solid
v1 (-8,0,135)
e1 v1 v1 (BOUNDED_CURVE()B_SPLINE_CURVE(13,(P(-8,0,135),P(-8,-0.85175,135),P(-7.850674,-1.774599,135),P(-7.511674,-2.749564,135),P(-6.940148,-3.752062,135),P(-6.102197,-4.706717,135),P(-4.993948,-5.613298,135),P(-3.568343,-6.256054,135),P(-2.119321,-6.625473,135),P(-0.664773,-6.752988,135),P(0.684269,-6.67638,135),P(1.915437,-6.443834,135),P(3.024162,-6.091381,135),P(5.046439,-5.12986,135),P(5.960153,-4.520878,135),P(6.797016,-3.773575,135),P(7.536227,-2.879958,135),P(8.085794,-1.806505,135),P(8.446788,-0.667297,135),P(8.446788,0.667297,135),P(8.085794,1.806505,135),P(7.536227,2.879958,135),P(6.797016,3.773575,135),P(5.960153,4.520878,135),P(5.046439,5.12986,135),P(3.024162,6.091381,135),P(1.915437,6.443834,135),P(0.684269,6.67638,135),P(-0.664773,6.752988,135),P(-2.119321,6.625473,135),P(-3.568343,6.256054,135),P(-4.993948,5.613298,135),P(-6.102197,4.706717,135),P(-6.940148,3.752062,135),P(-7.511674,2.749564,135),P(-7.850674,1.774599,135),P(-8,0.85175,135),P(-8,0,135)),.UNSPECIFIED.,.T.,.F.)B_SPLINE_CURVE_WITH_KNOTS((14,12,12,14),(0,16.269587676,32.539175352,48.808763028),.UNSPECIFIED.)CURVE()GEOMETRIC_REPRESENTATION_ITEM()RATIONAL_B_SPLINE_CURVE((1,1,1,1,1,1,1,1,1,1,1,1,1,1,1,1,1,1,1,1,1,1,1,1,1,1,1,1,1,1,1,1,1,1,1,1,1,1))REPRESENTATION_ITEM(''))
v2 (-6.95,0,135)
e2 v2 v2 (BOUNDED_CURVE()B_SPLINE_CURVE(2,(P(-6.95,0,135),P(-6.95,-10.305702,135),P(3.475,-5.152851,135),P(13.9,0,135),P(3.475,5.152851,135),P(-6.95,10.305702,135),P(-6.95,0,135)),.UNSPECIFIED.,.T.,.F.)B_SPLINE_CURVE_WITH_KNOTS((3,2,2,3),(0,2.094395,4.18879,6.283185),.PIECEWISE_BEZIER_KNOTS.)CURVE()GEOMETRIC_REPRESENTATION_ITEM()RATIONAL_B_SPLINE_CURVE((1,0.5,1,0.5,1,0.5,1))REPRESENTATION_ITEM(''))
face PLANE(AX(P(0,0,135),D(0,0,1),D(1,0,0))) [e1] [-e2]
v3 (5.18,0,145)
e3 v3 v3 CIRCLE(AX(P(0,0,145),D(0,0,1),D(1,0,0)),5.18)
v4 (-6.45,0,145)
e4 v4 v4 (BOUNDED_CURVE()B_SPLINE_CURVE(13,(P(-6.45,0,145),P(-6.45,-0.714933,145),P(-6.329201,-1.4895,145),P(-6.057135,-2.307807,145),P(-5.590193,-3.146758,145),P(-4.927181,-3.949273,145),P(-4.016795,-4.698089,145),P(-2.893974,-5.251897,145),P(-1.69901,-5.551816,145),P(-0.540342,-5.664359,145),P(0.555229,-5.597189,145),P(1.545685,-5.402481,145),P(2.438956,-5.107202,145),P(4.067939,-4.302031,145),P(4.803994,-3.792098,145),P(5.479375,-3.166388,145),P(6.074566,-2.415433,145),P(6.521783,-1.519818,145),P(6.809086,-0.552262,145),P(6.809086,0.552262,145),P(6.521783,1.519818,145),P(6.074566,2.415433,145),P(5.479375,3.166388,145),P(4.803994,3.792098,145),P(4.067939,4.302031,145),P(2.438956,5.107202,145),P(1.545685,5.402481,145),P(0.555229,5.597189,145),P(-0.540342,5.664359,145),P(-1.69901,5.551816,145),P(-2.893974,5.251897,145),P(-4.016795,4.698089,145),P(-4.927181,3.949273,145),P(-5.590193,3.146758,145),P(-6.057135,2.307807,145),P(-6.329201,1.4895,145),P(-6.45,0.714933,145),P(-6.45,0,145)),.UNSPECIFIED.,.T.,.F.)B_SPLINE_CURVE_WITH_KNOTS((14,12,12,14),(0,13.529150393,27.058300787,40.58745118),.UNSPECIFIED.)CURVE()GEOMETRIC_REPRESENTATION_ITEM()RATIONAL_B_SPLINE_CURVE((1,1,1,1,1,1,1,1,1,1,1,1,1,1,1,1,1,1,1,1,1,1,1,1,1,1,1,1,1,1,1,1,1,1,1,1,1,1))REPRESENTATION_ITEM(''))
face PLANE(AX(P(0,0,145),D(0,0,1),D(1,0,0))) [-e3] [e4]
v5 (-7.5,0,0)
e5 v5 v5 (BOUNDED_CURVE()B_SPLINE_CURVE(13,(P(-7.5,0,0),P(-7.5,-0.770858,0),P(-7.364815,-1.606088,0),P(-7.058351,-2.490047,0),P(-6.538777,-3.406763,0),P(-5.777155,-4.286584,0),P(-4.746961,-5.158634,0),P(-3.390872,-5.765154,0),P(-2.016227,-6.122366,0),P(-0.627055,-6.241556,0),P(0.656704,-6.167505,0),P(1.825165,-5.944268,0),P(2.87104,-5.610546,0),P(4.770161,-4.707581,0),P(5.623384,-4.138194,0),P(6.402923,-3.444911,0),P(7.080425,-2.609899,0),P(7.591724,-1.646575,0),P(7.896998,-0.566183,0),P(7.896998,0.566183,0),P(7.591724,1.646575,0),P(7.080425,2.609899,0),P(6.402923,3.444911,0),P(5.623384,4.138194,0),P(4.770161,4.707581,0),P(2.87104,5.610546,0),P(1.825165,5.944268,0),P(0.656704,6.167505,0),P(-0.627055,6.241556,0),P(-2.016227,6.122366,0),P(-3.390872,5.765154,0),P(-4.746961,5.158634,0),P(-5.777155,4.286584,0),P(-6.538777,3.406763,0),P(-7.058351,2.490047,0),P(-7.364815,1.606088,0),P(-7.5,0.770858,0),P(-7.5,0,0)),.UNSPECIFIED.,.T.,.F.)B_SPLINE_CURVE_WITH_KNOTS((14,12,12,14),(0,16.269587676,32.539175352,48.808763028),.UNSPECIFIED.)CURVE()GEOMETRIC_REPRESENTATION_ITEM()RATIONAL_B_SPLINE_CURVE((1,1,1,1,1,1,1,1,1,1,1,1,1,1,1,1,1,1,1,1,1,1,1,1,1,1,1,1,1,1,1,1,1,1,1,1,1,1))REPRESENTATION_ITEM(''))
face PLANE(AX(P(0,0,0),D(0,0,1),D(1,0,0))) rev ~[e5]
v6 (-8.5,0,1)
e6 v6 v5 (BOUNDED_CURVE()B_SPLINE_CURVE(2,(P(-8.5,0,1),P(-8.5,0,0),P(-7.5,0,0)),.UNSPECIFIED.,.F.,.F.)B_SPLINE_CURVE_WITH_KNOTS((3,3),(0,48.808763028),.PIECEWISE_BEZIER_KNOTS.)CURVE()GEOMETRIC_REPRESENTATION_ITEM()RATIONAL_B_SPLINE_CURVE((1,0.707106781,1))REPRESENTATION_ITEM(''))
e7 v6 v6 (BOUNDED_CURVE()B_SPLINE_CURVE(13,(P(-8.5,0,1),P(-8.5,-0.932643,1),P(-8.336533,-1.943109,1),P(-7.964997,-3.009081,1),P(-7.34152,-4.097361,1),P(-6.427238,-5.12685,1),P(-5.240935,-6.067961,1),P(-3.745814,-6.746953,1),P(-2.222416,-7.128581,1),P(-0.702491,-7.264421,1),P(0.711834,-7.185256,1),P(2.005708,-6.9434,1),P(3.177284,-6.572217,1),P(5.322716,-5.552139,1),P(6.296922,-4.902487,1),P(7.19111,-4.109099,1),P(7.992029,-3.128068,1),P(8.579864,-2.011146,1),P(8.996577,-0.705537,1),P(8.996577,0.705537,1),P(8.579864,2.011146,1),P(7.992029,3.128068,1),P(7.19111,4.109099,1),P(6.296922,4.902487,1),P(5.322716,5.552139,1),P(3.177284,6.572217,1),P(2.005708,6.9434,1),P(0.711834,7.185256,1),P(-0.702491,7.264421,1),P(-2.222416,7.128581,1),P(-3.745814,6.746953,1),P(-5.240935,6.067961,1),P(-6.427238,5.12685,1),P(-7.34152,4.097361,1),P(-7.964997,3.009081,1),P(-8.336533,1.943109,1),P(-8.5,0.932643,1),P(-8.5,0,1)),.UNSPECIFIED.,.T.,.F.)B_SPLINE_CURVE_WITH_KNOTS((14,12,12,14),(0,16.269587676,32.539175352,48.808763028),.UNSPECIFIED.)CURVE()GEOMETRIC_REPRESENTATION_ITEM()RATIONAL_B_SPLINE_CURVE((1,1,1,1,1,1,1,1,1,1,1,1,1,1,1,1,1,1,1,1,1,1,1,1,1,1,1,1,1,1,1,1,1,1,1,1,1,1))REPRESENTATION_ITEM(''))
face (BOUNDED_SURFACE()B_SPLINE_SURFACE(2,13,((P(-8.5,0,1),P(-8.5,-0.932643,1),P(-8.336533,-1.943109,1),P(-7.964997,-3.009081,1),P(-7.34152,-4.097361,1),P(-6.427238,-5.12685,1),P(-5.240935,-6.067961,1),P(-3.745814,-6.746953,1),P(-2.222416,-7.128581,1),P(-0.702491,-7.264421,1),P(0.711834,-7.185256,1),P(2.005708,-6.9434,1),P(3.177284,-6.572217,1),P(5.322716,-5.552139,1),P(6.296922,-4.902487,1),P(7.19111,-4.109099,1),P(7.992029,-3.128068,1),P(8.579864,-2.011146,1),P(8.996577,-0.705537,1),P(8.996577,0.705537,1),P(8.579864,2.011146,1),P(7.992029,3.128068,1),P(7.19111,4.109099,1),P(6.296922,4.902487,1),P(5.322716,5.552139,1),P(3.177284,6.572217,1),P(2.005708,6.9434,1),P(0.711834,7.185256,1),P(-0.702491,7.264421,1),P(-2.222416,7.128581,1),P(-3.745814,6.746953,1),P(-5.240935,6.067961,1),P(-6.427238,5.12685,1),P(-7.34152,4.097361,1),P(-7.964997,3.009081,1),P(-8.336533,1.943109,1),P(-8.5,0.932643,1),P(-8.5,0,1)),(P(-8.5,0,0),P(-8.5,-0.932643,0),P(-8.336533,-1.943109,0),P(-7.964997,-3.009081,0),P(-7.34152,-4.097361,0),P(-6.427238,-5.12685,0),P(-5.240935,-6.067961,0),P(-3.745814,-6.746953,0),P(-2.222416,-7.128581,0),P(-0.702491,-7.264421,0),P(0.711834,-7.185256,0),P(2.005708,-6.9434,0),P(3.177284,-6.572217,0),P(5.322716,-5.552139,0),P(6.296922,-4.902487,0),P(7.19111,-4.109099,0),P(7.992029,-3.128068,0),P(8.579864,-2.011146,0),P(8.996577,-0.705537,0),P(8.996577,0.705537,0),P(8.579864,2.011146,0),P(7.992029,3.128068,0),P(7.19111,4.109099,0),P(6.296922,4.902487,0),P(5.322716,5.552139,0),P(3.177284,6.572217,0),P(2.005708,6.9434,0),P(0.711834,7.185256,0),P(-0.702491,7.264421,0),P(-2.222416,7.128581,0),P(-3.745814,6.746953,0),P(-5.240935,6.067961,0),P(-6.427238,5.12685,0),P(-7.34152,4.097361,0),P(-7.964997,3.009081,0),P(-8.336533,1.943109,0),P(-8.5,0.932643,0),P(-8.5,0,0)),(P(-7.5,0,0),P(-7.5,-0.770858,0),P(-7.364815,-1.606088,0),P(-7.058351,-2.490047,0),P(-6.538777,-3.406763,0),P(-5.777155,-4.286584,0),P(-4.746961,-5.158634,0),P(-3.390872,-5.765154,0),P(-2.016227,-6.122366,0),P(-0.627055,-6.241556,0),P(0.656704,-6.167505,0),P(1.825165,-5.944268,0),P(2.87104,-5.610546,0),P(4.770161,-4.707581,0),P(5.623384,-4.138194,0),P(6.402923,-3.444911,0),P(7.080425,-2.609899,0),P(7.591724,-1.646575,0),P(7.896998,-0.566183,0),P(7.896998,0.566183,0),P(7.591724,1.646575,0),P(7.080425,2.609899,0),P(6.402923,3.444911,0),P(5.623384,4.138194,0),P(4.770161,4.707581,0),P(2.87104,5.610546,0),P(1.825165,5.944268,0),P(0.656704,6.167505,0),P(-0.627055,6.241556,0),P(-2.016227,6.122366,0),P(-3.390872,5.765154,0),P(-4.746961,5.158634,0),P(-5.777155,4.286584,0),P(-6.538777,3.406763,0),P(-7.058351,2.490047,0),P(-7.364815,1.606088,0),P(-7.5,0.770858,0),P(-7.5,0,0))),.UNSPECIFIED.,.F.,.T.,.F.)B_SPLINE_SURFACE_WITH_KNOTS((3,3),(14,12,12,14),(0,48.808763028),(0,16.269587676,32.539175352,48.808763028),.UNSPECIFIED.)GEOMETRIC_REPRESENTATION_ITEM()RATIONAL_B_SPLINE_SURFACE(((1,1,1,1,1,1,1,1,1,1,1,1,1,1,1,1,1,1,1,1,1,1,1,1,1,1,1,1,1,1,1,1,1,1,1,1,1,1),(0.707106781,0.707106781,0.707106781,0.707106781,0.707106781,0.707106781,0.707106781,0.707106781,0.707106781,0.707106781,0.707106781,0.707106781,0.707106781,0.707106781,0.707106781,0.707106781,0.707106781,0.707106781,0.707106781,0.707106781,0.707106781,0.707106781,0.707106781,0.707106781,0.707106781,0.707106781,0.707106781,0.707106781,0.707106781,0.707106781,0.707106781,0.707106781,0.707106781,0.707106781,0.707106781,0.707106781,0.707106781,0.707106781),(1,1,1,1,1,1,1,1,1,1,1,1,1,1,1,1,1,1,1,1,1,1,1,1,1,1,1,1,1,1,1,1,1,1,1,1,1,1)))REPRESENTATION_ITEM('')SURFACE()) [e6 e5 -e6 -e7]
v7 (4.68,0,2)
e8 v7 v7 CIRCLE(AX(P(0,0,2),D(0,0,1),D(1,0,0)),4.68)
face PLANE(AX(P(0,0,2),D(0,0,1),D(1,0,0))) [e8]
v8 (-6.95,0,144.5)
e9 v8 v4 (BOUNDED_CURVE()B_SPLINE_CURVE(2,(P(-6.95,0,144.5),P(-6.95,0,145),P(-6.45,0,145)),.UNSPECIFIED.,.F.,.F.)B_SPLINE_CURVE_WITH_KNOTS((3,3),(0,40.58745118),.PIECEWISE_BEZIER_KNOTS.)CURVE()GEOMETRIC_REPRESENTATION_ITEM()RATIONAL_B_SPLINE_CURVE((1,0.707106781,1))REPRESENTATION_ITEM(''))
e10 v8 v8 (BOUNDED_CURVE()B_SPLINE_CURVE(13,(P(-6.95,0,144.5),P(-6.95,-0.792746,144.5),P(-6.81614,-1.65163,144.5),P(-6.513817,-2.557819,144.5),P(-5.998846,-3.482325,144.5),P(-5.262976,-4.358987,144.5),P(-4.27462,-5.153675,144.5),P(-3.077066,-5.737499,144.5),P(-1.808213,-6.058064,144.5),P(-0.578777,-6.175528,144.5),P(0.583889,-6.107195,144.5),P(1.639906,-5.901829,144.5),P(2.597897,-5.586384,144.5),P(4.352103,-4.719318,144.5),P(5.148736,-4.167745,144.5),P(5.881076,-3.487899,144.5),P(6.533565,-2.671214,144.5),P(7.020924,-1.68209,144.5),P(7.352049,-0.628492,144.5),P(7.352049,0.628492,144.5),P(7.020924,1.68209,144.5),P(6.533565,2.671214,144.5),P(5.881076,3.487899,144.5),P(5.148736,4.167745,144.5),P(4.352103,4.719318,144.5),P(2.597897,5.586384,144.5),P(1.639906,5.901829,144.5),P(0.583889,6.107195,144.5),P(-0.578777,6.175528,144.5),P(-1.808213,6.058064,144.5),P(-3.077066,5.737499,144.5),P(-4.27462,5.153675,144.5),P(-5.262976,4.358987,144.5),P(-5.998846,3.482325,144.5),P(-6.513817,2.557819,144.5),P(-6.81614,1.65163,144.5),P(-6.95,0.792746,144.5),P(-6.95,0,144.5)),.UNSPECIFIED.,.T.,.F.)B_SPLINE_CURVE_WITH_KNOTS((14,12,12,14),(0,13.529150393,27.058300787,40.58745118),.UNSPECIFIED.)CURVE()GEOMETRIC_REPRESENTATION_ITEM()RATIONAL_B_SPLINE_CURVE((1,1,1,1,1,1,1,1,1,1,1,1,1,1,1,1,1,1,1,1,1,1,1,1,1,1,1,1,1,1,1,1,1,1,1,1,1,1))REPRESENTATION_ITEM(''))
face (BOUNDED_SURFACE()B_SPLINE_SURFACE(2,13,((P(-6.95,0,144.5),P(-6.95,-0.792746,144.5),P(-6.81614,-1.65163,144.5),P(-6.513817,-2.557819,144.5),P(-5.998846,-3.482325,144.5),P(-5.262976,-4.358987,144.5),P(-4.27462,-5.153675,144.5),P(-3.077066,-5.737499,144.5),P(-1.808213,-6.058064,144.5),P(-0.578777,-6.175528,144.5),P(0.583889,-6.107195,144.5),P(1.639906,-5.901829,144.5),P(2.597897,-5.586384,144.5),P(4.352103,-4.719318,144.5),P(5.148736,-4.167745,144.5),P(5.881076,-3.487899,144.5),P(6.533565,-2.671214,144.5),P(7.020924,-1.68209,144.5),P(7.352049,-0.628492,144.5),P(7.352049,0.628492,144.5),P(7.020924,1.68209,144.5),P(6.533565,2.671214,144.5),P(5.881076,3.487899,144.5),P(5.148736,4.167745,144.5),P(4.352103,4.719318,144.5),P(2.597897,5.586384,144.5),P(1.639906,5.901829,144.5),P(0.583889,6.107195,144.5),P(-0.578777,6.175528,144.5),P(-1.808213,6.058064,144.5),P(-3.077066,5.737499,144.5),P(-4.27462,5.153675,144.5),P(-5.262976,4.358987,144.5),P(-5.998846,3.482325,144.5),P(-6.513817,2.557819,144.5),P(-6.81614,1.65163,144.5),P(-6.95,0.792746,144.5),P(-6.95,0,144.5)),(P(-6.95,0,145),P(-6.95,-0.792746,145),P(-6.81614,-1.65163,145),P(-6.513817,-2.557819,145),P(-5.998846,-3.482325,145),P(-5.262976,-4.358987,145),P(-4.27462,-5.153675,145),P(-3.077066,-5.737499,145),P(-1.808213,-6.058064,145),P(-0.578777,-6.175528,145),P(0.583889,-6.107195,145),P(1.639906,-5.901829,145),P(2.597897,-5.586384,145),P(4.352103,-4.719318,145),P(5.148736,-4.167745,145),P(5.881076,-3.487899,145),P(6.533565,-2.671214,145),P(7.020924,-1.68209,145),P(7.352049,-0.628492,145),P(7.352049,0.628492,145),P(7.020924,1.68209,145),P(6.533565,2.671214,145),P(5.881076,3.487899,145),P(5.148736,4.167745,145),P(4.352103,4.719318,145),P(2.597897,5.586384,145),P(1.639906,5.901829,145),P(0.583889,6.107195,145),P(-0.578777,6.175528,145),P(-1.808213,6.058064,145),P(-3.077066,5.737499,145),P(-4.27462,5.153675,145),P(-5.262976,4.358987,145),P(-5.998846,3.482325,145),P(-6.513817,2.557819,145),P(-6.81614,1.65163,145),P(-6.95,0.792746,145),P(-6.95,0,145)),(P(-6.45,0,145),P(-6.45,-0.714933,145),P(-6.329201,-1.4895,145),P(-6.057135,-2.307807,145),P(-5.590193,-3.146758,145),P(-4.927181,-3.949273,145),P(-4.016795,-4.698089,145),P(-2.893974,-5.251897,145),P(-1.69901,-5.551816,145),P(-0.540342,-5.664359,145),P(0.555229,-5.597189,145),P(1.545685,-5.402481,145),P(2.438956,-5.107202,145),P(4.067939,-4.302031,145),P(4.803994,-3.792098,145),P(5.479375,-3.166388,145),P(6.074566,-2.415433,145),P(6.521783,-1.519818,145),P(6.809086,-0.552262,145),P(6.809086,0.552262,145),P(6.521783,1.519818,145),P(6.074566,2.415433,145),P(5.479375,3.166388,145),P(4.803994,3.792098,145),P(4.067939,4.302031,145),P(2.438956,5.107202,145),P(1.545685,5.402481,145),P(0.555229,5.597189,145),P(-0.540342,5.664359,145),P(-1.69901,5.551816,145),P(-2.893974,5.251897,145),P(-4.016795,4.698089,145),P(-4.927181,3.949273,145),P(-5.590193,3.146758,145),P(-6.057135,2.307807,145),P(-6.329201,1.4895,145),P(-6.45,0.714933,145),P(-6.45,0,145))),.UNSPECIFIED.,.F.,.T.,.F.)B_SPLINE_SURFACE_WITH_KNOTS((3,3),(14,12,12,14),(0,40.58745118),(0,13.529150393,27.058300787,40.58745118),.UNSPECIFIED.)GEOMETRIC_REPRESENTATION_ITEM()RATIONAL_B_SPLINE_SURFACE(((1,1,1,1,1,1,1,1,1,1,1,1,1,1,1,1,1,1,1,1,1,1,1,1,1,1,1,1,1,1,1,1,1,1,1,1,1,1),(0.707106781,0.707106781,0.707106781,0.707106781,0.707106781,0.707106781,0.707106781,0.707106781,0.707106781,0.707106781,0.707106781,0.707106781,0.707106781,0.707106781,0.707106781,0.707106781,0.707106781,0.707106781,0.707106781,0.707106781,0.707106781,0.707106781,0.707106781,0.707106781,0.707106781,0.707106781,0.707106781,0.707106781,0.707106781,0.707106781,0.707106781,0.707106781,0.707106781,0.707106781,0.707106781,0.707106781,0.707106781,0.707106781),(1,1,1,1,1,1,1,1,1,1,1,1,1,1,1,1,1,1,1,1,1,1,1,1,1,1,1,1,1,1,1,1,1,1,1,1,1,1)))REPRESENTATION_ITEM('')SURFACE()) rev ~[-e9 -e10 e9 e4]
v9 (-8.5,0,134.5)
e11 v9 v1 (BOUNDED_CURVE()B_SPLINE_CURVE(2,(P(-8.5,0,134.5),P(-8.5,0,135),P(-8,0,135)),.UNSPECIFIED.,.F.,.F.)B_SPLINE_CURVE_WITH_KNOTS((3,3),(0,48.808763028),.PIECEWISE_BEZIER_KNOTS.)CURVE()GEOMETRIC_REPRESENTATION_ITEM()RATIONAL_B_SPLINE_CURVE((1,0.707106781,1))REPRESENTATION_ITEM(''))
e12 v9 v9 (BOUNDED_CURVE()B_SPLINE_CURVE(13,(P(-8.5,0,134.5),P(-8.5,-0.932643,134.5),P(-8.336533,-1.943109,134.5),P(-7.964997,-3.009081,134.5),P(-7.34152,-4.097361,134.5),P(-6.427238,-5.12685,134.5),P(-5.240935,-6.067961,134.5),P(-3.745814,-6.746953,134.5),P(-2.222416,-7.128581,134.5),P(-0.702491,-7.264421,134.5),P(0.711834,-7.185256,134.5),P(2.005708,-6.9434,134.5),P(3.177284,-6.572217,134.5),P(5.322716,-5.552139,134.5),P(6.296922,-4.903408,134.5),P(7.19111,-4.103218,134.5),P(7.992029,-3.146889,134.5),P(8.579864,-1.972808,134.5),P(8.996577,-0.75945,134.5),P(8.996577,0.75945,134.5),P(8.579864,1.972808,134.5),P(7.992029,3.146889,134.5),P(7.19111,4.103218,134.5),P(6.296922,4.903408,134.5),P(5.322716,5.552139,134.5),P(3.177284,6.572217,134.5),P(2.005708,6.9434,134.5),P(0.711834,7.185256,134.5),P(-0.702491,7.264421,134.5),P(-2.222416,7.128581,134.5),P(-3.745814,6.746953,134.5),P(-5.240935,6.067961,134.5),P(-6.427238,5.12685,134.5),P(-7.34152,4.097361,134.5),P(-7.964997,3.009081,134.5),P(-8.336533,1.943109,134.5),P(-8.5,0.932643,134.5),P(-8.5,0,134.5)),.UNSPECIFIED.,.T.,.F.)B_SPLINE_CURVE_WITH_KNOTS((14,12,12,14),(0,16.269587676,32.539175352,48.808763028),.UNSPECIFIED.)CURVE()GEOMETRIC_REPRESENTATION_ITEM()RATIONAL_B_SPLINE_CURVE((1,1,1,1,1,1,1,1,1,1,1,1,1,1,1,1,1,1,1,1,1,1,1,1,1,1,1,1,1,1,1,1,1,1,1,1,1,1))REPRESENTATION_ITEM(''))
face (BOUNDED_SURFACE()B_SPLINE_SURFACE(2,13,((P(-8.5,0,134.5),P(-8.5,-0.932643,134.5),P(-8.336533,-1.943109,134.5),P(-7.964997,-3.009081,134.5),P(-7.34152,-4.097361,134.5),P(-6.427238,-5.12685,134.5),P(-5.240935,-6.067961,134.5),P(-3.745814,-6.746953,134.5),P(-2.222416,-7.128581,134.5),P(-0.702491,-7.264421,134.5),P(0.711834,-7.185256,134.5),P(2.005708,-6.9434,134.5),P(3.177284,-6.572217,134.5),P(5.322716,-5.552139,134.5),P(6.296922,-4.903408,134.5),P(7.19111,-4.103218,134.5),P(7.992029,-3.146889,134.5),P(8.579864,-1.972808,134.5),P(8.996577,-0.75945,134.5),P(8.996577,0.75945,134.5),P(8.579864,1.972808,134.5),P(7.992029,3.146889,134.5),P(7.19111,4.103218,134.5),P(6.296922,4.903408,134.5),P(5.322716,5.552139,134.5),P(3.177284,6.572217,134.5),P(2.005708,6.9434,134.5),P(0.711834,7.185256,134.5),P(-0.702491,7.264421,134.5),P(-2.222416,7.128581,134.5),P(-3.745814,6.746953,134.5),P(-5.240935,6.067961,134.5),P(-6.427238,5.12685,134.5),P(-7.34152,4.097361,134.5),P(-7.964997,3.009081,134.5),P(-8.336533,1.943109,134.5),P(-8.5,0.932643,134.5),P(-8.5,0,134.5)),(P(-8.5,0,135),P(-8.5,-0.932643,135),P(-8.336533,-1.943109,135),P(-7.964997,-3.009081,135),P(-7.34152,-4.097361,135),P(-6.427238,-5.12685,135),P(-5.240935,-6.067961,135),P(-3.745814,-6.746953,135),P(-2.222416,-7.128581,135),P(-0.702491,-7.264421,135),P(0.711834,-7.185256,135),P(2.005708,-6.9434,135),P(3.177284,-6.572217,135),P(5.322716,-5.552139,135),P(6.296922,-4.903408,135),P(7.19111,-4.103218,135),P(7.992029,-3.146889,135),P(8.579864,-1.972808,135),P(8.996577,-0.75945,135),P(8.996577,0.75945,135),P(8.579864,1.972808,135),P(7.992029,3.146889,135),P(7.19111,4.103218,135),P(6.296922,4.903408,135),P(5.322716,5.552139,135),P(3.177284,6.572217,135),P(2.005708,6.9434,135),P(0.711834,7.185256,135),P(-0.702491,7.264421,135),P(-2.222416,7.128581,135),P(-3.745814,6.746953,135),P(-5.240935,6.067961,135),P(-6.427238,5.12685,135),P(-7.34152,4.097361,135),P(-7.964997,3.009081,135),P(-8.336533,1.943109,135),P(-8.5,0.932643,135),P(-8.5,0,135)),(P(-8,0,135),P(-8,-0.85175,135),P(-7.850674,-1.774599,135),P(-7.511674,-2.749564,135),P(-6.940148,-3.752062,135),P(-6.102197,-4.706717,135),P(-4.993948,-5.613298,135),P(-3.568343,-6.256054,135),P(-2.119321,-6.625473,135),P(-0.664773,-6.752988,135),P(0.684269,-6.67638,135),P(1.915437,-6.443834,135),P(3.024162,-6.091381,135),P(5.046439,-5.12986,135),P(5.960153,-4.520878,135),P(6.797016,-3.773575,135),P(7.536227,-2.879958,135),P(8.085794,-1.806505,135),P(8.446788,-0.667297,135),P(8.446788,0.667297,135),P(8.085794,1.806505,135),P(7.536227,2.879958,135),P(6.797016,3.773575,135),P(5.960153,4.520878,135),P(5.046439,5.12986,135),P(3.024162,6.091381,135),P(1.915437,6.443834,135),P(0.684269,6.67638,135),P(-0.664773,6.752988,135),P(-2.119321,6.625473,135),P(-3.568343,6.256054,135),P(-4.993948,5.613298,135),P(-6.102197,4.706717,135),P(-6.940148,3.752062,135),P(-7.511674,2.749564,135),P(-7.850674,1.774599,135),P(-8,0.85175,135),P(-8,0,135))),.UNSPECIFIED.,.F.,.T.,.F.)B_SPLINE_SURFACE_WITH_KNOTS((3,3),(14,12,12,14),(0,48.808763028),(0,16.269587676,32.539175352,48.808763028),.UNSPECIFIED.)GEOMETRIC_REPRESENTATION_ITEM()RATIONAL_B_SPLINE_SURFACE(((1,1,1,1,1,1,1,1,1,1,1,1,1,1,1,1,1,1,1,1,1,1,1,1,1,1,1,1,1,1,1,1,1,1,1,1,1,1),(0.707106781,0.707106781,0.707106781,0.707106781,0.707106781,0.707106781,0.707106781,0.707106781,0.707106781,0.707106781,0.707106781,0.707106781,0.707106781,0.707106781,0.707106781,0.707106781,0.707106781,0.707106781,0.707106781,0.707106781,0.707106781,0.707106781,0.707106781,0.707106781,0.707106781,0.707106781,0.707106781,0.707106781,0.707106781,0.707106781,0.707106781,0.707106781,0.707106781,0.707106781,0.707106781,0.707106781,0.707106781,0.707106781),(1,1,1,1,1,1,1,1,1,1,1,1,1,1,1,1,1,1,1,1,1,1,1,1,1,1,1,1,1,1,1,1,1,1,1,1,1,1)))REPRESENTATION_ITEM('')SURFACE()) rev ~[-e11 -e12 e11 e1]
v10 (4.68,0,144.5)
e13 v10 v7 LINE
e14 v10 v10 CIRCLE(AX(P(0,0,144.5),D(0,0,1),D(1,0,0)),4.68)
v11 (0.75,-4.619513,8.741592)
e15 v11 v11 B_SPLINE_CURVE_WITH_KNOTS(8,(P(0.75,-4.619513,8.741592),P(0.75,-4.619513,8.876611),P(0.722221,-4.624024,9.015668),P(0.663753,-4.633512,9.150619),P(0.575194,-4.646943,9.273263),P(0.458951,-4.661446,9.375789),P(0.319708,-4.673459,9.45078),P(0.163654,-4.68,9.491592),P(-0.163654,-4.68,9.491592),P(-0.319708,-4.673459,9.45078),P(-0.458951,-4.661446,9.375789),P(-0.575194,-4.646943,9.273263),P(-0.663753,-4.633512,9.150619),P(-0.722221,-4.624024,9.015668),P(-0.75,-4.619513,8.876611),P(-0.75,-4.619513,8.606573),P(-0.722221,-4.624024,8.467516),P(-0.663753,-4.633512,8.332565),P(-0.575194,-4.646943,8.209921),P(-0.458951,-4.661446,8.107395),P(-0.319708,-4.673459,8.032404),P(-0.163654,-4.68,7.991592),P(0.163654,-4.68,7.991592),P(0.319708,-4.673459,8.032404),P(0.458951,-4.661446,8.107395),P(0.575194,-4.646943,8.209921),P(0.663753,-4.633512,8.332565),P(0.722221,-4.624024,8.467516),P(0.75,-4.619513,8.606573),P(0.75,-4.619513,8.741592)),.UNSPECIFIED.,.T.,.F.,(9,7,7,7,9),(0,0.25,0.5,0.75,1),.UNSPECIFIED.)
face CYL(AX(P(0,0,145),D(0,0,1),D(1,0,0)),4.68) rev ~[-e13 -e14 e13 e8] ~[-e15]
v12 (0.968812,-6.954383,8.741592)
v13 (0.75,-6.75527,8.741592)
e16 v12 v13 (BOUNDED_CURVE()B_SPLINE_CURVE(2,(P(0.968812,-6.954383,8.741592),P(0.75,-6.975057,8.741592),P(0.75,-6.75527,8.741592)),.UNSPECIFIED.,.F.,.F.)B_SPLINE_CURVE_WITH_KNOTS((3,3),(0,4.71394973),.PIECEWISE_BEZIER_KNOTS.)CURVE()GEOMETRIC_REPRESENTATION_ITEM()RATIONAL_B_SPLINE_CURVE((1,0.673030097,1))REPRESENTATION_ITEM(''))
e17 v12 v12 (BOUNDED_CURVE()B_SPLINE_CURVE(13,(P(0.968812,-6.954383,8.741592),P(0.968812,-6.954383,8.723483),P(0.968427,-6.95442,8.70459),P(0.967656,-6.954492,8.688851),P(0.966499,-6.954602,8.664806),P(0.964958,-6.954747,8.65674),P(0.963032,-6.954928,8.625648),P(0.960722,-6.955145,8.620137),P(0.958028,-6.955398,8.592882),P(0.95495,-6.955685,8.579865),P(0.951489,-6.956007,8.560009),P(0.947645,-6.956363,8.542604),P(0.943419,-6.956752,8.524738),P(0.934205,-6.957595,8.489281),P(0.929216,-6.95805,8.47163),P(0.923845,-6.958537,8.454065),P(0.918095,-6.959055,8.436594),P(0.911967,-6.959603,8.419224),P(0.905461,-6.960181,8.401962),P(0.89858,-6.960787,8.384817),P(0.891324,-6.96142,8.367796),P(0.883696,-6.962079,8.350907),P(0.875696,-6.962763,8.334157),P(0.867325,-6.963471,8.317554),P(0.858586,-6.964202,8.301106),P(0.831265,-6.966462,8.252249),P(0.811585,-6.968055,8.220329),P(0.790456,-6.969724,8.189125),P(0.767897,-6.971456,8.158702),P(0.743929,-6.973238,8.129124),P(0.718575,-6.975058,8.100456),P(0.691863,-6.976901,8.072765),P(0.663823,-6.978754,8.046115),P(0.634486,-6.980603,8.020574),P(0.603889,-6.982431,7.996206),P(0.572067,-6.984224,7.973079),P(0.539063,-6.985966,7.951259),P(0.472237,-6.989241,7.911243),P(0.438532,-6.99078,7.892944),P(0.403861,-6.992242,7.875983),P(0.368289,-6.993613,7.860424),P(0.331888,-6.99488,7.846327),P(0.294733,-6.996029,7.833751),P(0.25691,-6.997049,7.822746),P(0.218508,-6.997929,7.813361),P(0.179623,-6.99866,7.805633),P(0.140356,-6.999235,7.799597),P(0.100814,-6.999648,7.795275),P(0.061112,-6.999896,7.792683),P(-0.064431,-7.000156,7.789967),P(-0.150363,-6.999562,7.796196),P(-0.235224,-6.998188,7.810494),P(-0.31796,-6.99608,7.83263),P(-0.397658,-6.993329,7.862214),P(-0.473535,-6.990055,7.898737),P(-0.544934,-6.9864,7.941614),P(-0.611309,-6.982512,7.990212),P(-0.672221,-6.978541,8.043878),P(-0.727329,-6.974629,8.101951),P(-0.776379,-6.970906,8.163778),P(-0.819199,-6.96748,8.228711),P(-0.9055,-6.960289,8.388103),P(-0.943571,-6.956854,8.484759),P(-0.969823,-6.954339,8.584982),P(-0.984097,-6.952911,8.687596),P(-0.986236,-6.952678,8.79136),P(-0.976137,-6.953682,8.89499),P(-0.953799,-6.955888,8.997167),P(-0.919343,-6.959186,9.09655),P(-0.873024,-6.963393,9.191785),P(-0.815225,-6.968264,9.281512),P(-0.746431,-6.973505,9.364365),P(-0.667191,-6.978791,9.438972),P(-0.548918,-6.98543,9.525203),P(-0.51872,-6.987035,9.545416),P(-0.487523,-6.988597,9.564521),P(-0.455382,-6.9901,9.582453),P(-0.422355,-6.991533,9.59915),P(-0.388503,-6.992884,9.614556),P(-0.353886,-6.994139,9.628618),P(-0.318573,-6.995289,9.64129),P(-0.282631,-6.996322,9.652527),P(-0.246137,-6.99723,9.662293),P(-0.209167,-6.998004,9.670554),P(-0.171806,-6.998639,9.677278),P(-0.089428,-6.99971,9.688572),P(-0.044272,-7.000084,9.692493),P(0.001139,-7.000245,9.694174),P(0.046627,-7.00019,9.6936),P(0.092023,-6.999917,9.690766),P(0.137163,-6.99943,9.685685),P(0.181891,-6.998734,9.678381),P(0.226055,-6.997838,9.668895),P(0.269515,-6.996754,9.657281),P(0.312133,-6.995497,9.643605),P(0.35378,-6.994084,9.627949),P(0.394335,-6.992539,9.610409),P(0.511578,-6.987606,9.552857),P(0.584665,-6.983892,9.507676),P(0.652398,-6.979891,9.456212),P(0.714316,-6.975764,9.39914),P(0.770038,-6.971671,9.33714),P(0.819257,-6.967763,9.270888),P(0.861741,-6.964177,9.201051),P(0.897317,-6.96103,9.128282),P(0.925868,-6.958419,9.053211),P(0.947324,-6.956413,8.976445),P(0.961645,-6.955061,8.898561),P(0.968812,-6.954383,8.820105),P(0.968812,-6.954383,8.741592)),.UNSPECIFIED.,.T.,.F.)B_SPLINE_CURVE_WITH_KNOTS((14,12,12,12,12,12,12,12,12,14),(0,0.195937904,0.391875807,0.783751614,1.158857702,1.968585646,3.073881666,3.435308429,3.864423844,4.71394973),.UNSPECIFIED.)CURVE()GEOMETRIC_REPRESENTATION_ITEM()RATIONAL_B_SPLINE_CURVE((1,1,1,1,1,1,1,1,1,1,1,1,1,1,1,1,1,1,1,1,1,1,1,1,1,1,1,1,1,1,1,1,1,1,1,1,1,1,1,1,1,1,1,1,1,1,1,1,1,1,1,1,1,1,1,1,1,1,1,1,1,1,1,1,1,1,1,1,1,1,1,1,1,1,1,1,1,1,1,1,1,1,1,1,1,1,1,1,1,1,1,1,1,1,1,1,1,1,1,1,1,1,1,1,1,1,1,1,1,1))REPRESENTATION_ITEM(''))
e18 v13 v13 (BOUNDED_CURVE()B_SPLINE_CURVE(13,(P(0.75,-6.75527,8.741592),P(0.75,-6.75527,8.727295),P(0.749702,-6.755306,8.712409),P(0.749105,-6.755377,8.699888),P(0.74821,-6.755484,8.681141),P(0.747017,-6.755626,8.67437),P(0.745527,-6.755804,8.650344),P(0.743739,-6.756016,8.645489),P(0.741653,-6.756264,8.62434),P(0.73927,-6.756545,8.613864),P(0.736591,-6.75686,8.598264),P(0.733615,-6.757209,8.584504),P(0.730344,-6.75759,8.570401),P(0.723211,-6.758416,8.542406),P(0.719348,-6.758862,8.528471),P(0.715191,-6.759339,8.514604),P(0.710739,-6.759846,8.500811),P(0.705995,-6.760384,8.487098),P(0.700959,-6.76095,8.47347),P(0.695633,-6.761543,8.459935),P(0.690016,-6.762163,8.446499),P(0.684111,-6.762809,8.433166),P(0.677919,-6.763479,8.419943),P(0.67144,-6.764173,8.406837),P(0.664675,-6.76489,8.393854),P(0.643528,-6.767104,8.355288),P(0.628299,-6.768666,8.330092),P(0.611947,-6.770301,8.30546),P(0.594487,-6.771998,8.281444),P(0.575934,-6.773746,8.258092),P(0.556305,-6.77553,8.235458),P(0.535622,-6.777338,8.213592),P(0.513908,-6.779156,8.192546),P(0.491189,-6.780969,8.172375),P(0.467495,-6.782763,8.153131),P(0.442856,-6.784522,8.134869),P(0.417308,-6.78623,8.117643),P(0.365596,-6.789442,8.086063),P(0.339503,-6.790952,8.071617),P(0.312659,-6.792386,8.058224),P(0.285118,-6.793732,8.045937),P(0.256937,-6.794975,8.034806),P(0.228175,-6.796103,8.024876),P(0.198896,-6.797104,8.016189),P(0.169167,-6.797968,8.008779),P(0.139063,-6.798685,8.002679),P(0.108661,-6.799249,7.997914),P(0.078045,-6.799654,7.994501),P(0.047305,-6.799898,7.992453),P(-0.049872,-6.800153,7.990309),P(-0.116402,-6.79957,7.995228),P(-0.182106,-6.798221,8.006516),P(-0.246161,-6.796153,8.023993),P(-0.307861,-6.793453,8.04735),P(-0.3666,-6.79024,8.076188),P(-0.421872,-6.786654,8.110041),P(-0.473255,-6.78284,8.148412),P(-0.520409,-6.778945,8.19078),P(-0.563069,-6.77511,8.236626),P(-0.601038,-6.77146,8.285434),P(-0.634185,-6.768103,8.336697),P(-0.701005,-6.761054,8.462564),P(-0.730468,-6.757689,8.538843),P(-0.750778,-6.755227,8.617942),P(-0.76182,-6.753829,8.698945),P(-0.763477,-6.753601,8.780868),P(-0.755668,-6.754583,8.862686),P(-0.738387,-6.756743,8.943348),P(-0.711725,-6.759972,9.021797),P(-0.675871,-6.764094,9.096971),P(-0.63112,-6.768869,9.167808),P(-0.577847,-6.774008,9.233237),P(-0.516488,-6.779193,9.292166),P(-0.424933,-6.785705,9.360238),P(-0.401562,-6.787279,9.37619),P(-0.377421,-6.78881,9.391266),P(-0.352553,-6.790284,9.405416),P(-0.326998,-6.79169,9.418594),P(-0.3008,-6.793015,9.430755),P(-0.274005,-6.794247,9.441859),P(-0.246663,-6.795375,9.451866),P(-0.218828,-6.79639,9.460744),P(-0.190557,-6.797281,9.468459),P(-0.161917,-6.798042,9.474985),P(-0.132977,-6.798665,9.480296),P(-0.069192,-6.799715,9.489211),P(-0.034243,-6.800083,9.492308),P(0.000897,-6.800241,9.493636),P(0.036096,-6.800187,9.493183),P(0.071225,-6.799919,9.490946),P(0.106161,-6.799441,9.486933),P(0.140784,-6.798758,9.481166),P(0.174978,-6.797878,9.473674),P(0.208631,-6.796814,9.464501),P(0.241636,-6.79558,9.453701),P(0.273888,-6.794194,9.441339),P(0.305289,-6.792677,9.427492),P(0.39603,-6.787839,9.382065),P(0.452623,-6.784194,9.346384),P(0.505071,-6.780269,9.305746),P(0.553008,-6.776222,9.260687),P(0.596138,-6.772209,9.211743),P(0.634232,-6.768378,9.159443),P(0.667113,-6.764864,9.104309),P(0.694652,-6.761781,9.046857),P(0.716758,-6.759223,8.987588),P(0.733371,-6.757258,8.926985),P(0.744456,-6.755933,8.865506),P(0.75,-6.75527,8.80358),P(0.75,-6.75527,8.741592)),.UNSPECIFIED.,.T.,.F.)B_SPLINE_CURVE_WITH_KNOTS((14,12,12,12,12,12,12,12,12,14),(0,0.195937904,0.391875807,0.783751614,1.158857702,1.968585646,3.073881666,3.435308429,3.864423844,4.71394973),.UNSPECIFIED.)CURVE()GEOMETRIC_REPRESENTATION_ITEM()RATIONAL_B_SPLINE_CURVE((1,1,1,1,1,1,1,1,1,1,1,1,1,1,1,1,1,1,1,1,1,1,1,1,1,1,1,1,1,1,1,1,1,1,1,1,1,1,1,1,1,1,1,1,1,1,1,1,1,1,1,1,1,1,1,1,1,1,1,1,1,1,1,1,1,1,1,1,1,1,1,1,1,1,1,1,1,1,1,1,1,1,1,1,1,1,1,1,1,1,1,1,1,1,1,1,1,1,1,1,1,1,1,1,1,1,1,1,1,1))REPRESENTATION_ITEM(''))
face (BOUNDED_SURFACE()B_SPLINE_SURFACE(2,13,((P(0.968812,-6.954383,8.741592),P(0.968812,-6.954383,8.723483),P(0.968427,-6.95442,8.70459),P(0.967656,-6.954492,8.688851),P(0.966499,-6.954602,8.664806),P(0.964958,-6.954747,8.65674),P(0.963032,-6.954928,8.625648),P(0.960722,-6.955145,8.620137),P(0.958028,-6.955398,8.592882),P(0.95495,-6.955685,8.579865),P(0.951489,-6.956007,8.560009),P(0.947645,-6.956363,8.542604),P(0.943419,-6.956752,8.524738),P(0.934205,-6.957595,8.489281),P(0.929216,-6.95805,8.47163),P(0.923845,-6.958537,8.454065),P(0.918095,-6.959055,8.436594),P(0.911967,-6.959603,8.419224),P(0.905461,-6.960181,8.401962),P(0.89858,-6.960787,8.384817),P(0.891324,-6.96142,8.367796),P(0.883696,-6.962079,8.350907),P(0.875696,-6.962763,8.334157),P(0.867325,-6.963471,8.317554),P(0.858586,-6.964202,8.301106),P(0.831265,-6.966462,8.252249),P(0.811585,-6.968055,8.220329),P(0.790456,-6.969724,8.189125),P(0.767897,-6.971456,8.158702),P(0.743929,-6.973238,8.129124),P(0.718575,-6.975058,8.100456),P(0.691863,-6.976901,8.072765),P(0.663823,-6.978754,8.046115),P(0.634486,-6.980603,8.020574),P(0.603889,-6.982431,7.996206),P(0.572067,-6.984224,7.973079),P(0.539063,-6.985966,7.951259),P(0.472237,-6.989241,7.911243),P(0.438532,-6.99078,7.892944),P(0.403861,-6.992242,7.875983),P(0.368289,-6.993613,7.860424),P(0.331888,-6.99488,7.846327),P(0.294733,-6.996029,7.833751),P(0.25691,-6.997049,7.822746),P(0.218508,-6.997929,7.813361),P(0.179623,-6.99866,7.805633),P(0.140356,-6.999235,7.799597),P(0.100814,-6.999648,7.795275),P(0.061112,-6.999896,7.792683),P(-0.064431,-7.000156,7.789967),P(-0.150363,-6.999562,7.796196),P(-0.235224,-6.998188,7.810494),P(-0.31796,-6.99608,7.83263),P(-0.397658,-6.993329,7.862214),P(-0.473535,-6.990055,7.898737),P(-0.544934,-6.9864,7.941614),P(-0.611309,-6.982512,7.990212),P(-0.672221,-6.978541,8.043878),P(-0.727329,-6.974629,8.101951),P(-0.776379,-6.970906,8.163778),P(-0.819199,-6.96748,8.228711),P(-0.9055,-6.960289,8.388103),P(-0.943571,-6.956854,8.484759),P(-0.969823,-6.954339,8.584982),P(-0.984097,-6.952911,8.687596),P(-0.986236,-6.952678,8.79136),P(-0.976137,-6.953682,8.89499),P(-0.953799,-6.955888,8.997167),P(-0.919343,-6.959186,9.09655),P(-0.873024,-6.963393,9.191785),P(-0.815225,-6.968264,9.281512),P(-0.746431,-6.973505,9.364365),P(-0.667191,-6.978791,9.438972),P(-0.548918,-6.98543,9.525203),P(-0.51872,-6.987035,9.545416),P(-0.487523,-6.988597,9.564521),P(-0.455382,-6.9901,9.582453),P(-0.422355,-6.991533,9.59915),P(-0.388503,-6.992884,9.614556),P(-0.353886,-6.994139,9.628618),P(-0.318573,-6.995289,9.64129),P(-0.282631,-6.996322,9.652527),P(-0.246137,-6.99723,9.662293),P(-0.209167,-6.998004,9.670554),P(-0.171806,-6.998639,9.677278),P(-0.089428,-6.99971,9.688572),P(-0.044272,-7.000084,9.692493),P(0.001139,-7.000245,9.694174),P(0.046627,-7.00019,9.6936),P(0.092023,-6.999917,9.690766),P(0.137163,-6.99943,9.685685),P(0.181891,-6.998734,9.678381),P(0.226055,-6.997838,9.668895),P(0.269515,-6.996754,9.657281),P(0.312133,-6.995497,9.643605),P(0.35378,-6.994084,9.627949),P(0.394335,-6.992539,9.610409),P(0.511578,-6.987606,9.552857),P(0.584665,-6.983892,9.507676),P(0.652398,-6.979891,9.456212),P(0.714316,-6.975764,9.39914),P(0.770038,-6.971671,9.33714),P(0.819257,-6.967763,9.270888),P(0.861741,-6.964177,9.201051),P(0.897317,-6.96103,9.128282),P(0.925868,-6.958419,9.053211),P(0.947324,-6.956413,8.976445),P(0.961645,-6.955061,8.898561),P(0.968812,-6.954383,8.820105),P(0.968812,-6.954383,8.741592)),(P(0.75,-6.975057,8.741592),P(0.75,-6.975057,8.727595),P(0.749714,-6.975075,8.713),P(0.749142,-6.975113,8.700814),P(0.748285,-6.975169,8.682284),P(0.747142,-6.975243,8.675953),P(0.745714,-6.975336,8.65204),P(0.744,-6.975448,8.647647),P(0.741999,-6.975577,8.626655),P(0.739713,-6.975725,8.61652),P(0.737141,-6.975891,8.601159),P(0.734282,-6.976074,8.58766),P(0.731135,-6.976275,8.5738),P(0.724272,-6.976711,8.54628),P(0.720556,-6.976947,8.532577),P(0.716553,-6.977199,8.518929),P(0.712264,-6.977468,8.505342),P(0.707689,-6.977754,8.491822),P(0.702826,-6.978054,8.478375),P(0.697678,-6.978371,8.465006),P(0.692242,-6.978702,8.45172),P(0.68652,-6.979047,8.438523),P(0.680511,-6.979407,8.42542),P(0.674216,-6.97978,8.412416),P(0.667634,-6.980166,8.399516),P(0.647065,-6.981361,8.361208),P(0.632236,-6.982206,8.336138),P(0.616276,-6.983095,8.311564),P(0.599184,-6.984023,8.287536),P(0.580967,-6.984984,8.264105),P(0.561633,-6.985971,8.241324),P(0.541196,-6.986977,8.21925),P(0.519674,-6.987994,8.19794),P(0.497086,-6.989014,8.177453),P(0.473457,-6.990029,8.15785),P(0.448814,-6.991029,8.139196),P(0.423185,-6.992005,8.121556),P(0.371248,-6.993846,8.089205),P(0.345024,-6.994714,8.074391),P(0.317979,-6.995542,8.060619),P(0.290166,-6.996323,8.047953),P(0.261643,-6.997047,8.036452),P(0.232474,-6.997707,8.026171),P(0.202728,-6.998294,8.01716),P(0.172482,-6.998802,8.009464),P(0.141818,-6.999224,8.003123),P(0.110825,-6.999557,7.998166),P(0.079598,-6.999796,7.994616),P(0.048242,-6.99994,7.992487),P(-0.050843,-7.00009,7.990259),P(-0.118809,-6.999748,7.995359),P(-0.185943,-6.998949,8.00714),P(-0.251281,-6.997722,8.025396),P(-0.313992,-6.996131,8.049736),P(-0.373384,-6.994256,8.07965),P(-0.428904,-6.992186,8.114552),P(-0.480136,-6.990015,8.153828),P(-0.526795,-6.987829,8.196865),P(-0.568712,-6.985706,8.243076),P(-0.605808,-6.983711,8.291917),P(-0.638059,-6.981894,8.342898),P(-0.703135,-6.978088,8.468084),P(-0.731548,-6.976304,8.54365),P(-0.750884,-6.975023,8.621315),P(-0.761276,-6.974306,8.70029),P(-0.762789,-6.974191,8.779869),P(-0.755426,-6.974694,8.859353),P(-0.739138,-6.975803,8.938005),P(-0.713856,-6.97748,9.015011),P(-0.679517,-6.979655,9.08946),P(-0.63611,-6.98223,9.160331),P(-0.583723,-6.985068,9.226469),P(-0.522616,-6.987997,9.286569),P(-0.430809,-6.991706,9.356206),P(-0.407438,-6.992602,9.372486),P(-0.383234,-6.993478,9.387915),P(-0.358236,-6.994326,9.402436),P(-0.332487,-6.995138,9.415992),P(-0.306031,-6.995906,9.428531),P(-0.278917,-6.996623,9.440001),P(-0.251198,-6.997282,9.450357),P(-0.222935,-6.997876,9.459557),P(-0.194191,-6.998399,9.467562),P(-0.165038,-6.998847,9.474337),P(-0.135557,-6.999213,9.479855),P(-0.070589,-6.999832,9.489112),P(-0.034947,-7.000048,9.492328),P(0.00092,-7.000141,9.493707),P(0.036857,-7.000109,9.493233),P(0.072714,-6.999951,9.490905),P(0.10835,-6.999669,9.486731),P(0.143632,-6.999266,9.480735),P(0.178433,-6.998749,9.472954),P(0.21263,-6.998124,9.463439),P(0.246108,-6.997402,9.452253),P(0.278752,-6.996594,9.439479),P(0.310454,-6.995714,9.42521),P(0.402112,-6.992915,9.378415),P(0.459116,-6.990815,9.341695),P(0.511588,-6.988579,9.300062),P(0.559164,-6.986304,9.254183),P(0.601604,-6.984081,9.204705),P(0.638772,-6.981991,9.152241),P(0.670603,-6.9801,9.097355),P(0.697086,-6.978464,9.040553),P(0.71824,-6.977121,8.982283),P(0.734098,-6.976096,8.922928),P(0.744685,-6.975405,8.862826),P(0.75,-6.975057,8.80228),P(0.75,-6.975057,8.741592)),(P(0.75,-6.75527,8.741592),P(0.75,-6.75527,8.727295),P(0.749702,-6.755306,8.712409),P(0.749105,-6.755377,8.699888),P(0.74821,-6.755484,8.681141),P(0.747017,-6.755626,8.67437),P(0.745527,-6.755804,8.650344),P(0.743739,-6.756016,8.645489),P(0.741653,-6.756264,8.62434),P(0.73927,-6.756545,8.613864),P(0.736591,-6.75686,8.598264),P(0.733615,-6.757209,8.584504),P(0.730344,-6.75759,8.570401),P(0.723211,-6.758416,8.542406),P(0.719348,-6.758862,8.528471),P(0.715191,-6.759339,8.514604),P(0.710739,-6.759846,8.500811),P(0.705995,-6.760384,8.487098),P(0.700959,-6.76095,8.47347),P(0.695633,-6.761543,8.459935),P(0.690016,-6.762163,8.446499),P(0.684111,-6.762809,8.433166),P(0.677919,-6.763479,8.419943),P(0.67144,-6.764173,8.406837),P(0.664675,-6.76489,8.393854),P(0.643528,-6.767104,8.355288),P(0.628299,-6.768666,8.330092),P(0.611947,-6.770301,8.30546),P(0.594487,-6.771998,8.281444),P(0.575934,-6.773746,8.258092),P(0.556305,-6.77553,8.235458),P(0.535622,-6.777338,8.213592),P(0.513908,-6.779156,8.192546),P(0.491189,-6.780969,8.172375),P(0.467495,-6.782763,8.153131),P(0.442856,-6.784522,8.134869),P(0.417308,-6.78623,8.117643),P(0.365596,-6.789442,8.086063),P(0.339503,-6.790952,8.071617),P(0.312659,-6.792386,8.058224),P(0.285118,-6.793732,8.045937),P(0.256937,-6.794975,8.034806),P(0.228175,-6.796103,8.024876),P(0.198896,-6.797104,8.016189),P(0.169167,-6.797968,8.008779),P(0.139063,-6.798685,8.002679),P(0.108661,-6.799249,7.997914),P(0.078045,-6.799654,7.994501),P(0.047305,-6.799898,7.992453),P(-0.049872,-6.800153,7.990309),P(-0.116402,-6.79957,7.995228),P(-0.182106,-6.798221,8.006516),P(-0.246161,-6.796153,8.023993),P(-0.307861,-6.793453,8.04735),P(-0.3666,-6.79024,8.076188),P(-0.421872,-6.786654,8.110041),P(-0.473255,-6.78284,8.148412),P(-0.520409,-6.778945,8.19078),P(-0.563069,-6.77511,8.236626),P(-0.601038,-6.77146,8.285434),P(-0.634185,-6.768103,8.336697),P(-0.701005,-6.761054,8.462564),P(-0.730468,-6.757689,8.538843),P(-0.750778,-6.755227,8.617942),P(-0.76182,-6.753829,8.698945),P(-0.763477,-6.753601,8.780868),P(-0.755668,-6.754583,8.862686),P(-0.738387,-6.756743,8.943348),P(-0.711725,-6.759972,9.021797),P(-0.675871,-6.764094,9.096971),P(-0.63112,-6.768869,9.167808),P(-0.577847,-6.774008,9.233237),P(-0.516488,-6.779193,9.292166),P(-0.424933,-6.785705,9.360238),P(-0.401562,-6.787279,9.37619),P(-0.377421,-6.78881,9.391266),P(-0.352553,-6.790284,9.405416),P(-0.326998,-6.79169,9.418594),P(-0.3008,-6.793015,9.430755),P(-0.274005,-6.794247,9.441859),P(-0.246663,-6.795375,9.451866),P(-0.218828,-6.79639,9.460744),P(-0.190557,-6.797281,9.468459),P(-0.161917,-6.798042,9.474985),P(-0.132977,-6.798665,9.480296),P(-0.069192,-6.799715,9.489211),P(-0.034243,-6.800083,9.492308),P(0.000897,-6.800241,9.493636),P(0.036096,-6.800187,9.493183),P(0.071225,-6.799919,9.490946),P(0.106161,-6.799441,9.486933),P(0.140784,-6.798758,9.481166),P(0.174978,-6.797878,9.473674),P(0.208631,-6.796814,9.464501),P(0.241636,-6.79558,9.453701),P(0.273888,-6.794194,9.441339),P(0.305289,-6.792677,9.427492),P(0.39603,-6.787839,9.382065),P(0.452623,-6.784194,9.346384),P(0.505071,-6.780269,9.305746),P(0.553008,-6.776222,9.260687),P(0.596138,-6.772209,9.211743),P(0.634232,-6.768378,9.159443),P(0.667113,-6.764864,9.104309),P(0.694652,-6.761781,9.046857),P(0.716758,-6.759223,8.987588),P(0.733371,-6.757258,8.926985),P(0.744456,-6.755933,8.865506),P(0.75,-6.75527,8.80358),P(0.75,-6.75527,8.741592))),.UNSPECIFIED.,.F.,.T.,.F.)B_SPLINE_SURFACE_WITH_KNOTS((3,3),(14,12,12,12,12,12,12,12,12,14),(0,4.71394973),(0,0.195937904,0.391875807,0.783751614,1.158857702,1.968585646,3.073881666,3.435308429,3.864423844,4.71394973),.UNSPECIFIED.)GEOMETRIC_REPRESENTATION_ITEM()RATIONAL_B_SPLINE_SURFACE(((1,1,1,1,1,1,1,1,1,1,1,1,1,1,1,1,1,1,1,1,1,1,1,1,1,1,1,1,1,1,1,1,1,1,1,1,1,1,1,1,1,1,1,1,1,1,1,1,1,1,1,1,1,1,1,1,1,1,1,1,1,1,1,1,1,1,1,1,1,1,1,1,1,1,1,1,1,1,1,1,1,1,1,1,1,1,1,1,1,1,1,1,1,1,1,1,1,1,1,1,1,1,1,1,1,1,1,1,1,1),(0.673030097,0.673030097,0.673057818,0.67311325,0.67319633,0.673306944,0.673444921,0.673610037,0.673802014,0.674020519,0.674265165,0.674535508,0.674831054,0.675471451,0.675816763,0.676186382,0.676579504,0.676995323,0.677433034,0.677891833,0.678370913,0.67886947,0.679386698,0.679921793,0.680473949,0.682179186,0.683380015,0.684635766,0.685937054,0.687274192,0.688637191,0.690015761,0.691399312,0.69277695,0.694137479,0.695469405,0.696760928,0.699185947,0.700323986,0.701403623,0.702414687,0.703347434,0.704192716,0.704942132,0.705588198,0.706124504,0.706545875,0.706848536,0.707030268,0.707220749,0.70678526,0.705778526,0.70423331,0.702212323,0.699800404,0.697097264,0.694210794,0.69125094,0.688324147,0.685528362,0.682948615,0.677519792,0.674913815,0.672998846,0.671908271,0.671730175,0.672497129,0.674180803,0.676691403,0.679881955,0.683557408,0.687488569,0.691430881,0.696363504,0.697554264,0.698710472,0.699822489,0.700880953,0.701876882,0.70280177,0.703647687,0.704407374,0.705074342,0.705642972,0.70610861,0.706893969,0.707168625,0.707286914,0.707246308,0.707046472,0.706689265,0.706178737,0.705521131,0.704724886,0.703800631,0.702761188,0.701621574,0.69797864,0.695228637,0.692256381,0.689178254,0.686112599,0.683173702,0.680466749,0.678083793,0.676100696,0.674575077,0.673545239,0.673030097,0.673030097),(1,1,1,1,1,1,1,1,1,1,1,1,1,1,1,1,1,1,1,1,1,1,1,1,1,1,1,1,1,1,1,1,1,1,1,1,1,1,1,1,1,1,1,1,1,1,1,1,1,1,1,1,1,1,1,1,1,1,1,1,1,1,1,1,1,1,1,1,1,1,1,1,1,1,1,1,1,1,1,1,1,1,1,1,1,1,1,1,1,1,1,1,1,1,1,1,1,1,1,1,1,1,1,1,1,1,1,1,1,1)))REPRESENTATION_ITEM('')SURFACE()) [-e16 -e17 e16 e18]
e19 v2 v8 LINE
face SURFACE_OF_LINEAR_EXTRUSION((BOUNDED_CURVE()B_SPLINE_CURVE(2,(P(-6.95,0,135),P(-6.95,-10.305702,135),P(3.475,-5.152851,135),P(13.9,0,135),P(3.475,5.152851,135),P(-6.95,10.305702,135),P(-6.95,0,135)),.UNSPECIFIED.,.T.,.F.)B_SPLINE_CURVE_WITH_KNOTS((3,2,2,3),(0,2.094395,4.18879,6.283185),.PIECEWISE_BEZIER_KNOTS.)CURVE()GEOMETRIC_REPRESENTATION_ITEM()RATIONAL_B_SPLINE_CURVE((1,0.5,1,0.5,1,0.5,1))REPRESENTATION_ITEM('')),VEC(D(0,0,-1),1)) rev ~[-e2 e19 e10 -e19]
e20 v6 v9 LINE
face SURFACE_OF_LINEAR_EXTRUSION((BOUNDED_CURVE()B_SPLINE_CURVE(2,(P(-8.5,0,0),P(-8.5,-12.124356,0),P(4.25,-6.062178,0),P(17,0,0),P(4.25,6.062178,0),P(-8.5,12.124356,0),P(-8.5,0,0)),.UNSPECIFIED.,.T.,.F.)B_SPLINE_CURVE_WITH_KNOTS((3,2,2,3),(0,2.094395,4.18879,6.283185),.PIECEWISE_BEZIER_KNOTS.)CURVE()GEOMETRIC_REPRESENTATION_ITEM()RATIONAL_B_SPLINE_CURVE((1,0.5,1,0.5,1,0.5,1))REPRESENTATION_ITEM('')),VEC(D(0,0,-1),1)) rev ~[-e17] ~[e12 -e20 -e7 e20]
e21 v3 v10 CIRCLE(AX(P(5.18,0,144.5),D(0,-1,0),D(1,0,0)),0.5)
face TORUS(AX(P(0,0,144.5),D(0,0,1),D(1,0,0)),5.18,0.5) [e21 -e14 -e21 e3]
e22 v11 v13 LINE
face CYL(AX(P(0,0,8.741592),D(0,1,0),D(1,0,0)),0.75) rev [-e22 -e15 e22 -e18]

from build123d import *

# Parameters (mm, degrees)
F0_R     = 4.55
F1_DEPTH = 135
F3_DEPTH = 10
F4_R     = 4.68
F5_DEPTH = 143
F6_R     = 0.5
F7_R     = 1
F8_R     = 0.75
F9_DEPTH = 25
F10_R    = 0.2


with BuildPart() as f1:
    # F0 (on Top) → F1 (new body)
    with BuildSketch(Plane.XY):
        with BuildLine():
            add(Edge.make_bspline(
                [(-8.5, 0), (-8.5, -12.124356), (4.25, -6.062178), (17, 0), (4.25, 6.062178), (-8.5, 12.124356), (-8.5, 0)],
                knots=[0, 0, 0, 2.094395, 2.094395, 4.18879, 4.18879, 6.283185, 6.283185, 6.283185], degree=2, weights=[1, 0.5, 1, 0.5, 1, 0.5, 1]))
        make_face()
        Circle(F0_R, mode=Mode.SUBTRACT)
        Circle(F0_R)
    extrude(amount=F1_DEPTH)

    # F2 (on face) → F3 (join)
    with BuildSketch(Plane.XY.offset(135)):
        with BuildLine():
            add(Edge.make_bspline(
                [(-6.95, 0), (-6.95, -10.305702), (3.475, -5.152851), (13.9, 0), (3.475, 5.152851), (-6.95, 10.305702), (-6.95, 0)],
                knots=[0, 0, 0, 2.094395, 2.094395, 4.18879, 4.18879, 6.283185, 6.283185, 6.283185], degree=2, weights=[1, 0.5, 1, 0.5, 1, 0.5, 1]))
        make_face()
    extrude(amount=F3_DEPTH)

    # F4 (on face) → F5 (cut)
    with BuildSketch(Plane.XY.offset(145)):
        Circle(F4_R)
    extrude(amount=-F5_DEPTH, mode=Mode.SUBTRACT)

    # F6
    f6_edges = [f1.edges().sort_by_distance(p)[0] for p in [
        (-4.68, 0, 145),
        (6.95, 0, 145),
        (8.5, 0, 135),
    ]]
    fillet(f6_edges, radius=F6_R)

    # F7
    f7_edges = [f1.edges().sort_by_distance(p)[0] for p in [
        (8.5, 0, 0),
    ]]
    fillet(f7_edges, radius=F7_R)

    # F8 (on Front) → F9 (cut)
    with BuildSketch(Plane.XZ):
        with Locations((0, 8.741592)):
            Circle(F8_R)
    extrude(amount=F9_DEPTH, mode=Mode.SUBTRACT)

    # F10
    f10_edges = [f1.edges().sort_by_distance(p)[0] for p in [
        (8.499994, 0, 1),
        (-8.5, 0, 67.75),
        (8.499994, 0, 134.5),
        (-0.749998, -6.972697, 8.741592),
    ]]
    fillet(f10_edges, radius=F10_R)


solid = f1.part
